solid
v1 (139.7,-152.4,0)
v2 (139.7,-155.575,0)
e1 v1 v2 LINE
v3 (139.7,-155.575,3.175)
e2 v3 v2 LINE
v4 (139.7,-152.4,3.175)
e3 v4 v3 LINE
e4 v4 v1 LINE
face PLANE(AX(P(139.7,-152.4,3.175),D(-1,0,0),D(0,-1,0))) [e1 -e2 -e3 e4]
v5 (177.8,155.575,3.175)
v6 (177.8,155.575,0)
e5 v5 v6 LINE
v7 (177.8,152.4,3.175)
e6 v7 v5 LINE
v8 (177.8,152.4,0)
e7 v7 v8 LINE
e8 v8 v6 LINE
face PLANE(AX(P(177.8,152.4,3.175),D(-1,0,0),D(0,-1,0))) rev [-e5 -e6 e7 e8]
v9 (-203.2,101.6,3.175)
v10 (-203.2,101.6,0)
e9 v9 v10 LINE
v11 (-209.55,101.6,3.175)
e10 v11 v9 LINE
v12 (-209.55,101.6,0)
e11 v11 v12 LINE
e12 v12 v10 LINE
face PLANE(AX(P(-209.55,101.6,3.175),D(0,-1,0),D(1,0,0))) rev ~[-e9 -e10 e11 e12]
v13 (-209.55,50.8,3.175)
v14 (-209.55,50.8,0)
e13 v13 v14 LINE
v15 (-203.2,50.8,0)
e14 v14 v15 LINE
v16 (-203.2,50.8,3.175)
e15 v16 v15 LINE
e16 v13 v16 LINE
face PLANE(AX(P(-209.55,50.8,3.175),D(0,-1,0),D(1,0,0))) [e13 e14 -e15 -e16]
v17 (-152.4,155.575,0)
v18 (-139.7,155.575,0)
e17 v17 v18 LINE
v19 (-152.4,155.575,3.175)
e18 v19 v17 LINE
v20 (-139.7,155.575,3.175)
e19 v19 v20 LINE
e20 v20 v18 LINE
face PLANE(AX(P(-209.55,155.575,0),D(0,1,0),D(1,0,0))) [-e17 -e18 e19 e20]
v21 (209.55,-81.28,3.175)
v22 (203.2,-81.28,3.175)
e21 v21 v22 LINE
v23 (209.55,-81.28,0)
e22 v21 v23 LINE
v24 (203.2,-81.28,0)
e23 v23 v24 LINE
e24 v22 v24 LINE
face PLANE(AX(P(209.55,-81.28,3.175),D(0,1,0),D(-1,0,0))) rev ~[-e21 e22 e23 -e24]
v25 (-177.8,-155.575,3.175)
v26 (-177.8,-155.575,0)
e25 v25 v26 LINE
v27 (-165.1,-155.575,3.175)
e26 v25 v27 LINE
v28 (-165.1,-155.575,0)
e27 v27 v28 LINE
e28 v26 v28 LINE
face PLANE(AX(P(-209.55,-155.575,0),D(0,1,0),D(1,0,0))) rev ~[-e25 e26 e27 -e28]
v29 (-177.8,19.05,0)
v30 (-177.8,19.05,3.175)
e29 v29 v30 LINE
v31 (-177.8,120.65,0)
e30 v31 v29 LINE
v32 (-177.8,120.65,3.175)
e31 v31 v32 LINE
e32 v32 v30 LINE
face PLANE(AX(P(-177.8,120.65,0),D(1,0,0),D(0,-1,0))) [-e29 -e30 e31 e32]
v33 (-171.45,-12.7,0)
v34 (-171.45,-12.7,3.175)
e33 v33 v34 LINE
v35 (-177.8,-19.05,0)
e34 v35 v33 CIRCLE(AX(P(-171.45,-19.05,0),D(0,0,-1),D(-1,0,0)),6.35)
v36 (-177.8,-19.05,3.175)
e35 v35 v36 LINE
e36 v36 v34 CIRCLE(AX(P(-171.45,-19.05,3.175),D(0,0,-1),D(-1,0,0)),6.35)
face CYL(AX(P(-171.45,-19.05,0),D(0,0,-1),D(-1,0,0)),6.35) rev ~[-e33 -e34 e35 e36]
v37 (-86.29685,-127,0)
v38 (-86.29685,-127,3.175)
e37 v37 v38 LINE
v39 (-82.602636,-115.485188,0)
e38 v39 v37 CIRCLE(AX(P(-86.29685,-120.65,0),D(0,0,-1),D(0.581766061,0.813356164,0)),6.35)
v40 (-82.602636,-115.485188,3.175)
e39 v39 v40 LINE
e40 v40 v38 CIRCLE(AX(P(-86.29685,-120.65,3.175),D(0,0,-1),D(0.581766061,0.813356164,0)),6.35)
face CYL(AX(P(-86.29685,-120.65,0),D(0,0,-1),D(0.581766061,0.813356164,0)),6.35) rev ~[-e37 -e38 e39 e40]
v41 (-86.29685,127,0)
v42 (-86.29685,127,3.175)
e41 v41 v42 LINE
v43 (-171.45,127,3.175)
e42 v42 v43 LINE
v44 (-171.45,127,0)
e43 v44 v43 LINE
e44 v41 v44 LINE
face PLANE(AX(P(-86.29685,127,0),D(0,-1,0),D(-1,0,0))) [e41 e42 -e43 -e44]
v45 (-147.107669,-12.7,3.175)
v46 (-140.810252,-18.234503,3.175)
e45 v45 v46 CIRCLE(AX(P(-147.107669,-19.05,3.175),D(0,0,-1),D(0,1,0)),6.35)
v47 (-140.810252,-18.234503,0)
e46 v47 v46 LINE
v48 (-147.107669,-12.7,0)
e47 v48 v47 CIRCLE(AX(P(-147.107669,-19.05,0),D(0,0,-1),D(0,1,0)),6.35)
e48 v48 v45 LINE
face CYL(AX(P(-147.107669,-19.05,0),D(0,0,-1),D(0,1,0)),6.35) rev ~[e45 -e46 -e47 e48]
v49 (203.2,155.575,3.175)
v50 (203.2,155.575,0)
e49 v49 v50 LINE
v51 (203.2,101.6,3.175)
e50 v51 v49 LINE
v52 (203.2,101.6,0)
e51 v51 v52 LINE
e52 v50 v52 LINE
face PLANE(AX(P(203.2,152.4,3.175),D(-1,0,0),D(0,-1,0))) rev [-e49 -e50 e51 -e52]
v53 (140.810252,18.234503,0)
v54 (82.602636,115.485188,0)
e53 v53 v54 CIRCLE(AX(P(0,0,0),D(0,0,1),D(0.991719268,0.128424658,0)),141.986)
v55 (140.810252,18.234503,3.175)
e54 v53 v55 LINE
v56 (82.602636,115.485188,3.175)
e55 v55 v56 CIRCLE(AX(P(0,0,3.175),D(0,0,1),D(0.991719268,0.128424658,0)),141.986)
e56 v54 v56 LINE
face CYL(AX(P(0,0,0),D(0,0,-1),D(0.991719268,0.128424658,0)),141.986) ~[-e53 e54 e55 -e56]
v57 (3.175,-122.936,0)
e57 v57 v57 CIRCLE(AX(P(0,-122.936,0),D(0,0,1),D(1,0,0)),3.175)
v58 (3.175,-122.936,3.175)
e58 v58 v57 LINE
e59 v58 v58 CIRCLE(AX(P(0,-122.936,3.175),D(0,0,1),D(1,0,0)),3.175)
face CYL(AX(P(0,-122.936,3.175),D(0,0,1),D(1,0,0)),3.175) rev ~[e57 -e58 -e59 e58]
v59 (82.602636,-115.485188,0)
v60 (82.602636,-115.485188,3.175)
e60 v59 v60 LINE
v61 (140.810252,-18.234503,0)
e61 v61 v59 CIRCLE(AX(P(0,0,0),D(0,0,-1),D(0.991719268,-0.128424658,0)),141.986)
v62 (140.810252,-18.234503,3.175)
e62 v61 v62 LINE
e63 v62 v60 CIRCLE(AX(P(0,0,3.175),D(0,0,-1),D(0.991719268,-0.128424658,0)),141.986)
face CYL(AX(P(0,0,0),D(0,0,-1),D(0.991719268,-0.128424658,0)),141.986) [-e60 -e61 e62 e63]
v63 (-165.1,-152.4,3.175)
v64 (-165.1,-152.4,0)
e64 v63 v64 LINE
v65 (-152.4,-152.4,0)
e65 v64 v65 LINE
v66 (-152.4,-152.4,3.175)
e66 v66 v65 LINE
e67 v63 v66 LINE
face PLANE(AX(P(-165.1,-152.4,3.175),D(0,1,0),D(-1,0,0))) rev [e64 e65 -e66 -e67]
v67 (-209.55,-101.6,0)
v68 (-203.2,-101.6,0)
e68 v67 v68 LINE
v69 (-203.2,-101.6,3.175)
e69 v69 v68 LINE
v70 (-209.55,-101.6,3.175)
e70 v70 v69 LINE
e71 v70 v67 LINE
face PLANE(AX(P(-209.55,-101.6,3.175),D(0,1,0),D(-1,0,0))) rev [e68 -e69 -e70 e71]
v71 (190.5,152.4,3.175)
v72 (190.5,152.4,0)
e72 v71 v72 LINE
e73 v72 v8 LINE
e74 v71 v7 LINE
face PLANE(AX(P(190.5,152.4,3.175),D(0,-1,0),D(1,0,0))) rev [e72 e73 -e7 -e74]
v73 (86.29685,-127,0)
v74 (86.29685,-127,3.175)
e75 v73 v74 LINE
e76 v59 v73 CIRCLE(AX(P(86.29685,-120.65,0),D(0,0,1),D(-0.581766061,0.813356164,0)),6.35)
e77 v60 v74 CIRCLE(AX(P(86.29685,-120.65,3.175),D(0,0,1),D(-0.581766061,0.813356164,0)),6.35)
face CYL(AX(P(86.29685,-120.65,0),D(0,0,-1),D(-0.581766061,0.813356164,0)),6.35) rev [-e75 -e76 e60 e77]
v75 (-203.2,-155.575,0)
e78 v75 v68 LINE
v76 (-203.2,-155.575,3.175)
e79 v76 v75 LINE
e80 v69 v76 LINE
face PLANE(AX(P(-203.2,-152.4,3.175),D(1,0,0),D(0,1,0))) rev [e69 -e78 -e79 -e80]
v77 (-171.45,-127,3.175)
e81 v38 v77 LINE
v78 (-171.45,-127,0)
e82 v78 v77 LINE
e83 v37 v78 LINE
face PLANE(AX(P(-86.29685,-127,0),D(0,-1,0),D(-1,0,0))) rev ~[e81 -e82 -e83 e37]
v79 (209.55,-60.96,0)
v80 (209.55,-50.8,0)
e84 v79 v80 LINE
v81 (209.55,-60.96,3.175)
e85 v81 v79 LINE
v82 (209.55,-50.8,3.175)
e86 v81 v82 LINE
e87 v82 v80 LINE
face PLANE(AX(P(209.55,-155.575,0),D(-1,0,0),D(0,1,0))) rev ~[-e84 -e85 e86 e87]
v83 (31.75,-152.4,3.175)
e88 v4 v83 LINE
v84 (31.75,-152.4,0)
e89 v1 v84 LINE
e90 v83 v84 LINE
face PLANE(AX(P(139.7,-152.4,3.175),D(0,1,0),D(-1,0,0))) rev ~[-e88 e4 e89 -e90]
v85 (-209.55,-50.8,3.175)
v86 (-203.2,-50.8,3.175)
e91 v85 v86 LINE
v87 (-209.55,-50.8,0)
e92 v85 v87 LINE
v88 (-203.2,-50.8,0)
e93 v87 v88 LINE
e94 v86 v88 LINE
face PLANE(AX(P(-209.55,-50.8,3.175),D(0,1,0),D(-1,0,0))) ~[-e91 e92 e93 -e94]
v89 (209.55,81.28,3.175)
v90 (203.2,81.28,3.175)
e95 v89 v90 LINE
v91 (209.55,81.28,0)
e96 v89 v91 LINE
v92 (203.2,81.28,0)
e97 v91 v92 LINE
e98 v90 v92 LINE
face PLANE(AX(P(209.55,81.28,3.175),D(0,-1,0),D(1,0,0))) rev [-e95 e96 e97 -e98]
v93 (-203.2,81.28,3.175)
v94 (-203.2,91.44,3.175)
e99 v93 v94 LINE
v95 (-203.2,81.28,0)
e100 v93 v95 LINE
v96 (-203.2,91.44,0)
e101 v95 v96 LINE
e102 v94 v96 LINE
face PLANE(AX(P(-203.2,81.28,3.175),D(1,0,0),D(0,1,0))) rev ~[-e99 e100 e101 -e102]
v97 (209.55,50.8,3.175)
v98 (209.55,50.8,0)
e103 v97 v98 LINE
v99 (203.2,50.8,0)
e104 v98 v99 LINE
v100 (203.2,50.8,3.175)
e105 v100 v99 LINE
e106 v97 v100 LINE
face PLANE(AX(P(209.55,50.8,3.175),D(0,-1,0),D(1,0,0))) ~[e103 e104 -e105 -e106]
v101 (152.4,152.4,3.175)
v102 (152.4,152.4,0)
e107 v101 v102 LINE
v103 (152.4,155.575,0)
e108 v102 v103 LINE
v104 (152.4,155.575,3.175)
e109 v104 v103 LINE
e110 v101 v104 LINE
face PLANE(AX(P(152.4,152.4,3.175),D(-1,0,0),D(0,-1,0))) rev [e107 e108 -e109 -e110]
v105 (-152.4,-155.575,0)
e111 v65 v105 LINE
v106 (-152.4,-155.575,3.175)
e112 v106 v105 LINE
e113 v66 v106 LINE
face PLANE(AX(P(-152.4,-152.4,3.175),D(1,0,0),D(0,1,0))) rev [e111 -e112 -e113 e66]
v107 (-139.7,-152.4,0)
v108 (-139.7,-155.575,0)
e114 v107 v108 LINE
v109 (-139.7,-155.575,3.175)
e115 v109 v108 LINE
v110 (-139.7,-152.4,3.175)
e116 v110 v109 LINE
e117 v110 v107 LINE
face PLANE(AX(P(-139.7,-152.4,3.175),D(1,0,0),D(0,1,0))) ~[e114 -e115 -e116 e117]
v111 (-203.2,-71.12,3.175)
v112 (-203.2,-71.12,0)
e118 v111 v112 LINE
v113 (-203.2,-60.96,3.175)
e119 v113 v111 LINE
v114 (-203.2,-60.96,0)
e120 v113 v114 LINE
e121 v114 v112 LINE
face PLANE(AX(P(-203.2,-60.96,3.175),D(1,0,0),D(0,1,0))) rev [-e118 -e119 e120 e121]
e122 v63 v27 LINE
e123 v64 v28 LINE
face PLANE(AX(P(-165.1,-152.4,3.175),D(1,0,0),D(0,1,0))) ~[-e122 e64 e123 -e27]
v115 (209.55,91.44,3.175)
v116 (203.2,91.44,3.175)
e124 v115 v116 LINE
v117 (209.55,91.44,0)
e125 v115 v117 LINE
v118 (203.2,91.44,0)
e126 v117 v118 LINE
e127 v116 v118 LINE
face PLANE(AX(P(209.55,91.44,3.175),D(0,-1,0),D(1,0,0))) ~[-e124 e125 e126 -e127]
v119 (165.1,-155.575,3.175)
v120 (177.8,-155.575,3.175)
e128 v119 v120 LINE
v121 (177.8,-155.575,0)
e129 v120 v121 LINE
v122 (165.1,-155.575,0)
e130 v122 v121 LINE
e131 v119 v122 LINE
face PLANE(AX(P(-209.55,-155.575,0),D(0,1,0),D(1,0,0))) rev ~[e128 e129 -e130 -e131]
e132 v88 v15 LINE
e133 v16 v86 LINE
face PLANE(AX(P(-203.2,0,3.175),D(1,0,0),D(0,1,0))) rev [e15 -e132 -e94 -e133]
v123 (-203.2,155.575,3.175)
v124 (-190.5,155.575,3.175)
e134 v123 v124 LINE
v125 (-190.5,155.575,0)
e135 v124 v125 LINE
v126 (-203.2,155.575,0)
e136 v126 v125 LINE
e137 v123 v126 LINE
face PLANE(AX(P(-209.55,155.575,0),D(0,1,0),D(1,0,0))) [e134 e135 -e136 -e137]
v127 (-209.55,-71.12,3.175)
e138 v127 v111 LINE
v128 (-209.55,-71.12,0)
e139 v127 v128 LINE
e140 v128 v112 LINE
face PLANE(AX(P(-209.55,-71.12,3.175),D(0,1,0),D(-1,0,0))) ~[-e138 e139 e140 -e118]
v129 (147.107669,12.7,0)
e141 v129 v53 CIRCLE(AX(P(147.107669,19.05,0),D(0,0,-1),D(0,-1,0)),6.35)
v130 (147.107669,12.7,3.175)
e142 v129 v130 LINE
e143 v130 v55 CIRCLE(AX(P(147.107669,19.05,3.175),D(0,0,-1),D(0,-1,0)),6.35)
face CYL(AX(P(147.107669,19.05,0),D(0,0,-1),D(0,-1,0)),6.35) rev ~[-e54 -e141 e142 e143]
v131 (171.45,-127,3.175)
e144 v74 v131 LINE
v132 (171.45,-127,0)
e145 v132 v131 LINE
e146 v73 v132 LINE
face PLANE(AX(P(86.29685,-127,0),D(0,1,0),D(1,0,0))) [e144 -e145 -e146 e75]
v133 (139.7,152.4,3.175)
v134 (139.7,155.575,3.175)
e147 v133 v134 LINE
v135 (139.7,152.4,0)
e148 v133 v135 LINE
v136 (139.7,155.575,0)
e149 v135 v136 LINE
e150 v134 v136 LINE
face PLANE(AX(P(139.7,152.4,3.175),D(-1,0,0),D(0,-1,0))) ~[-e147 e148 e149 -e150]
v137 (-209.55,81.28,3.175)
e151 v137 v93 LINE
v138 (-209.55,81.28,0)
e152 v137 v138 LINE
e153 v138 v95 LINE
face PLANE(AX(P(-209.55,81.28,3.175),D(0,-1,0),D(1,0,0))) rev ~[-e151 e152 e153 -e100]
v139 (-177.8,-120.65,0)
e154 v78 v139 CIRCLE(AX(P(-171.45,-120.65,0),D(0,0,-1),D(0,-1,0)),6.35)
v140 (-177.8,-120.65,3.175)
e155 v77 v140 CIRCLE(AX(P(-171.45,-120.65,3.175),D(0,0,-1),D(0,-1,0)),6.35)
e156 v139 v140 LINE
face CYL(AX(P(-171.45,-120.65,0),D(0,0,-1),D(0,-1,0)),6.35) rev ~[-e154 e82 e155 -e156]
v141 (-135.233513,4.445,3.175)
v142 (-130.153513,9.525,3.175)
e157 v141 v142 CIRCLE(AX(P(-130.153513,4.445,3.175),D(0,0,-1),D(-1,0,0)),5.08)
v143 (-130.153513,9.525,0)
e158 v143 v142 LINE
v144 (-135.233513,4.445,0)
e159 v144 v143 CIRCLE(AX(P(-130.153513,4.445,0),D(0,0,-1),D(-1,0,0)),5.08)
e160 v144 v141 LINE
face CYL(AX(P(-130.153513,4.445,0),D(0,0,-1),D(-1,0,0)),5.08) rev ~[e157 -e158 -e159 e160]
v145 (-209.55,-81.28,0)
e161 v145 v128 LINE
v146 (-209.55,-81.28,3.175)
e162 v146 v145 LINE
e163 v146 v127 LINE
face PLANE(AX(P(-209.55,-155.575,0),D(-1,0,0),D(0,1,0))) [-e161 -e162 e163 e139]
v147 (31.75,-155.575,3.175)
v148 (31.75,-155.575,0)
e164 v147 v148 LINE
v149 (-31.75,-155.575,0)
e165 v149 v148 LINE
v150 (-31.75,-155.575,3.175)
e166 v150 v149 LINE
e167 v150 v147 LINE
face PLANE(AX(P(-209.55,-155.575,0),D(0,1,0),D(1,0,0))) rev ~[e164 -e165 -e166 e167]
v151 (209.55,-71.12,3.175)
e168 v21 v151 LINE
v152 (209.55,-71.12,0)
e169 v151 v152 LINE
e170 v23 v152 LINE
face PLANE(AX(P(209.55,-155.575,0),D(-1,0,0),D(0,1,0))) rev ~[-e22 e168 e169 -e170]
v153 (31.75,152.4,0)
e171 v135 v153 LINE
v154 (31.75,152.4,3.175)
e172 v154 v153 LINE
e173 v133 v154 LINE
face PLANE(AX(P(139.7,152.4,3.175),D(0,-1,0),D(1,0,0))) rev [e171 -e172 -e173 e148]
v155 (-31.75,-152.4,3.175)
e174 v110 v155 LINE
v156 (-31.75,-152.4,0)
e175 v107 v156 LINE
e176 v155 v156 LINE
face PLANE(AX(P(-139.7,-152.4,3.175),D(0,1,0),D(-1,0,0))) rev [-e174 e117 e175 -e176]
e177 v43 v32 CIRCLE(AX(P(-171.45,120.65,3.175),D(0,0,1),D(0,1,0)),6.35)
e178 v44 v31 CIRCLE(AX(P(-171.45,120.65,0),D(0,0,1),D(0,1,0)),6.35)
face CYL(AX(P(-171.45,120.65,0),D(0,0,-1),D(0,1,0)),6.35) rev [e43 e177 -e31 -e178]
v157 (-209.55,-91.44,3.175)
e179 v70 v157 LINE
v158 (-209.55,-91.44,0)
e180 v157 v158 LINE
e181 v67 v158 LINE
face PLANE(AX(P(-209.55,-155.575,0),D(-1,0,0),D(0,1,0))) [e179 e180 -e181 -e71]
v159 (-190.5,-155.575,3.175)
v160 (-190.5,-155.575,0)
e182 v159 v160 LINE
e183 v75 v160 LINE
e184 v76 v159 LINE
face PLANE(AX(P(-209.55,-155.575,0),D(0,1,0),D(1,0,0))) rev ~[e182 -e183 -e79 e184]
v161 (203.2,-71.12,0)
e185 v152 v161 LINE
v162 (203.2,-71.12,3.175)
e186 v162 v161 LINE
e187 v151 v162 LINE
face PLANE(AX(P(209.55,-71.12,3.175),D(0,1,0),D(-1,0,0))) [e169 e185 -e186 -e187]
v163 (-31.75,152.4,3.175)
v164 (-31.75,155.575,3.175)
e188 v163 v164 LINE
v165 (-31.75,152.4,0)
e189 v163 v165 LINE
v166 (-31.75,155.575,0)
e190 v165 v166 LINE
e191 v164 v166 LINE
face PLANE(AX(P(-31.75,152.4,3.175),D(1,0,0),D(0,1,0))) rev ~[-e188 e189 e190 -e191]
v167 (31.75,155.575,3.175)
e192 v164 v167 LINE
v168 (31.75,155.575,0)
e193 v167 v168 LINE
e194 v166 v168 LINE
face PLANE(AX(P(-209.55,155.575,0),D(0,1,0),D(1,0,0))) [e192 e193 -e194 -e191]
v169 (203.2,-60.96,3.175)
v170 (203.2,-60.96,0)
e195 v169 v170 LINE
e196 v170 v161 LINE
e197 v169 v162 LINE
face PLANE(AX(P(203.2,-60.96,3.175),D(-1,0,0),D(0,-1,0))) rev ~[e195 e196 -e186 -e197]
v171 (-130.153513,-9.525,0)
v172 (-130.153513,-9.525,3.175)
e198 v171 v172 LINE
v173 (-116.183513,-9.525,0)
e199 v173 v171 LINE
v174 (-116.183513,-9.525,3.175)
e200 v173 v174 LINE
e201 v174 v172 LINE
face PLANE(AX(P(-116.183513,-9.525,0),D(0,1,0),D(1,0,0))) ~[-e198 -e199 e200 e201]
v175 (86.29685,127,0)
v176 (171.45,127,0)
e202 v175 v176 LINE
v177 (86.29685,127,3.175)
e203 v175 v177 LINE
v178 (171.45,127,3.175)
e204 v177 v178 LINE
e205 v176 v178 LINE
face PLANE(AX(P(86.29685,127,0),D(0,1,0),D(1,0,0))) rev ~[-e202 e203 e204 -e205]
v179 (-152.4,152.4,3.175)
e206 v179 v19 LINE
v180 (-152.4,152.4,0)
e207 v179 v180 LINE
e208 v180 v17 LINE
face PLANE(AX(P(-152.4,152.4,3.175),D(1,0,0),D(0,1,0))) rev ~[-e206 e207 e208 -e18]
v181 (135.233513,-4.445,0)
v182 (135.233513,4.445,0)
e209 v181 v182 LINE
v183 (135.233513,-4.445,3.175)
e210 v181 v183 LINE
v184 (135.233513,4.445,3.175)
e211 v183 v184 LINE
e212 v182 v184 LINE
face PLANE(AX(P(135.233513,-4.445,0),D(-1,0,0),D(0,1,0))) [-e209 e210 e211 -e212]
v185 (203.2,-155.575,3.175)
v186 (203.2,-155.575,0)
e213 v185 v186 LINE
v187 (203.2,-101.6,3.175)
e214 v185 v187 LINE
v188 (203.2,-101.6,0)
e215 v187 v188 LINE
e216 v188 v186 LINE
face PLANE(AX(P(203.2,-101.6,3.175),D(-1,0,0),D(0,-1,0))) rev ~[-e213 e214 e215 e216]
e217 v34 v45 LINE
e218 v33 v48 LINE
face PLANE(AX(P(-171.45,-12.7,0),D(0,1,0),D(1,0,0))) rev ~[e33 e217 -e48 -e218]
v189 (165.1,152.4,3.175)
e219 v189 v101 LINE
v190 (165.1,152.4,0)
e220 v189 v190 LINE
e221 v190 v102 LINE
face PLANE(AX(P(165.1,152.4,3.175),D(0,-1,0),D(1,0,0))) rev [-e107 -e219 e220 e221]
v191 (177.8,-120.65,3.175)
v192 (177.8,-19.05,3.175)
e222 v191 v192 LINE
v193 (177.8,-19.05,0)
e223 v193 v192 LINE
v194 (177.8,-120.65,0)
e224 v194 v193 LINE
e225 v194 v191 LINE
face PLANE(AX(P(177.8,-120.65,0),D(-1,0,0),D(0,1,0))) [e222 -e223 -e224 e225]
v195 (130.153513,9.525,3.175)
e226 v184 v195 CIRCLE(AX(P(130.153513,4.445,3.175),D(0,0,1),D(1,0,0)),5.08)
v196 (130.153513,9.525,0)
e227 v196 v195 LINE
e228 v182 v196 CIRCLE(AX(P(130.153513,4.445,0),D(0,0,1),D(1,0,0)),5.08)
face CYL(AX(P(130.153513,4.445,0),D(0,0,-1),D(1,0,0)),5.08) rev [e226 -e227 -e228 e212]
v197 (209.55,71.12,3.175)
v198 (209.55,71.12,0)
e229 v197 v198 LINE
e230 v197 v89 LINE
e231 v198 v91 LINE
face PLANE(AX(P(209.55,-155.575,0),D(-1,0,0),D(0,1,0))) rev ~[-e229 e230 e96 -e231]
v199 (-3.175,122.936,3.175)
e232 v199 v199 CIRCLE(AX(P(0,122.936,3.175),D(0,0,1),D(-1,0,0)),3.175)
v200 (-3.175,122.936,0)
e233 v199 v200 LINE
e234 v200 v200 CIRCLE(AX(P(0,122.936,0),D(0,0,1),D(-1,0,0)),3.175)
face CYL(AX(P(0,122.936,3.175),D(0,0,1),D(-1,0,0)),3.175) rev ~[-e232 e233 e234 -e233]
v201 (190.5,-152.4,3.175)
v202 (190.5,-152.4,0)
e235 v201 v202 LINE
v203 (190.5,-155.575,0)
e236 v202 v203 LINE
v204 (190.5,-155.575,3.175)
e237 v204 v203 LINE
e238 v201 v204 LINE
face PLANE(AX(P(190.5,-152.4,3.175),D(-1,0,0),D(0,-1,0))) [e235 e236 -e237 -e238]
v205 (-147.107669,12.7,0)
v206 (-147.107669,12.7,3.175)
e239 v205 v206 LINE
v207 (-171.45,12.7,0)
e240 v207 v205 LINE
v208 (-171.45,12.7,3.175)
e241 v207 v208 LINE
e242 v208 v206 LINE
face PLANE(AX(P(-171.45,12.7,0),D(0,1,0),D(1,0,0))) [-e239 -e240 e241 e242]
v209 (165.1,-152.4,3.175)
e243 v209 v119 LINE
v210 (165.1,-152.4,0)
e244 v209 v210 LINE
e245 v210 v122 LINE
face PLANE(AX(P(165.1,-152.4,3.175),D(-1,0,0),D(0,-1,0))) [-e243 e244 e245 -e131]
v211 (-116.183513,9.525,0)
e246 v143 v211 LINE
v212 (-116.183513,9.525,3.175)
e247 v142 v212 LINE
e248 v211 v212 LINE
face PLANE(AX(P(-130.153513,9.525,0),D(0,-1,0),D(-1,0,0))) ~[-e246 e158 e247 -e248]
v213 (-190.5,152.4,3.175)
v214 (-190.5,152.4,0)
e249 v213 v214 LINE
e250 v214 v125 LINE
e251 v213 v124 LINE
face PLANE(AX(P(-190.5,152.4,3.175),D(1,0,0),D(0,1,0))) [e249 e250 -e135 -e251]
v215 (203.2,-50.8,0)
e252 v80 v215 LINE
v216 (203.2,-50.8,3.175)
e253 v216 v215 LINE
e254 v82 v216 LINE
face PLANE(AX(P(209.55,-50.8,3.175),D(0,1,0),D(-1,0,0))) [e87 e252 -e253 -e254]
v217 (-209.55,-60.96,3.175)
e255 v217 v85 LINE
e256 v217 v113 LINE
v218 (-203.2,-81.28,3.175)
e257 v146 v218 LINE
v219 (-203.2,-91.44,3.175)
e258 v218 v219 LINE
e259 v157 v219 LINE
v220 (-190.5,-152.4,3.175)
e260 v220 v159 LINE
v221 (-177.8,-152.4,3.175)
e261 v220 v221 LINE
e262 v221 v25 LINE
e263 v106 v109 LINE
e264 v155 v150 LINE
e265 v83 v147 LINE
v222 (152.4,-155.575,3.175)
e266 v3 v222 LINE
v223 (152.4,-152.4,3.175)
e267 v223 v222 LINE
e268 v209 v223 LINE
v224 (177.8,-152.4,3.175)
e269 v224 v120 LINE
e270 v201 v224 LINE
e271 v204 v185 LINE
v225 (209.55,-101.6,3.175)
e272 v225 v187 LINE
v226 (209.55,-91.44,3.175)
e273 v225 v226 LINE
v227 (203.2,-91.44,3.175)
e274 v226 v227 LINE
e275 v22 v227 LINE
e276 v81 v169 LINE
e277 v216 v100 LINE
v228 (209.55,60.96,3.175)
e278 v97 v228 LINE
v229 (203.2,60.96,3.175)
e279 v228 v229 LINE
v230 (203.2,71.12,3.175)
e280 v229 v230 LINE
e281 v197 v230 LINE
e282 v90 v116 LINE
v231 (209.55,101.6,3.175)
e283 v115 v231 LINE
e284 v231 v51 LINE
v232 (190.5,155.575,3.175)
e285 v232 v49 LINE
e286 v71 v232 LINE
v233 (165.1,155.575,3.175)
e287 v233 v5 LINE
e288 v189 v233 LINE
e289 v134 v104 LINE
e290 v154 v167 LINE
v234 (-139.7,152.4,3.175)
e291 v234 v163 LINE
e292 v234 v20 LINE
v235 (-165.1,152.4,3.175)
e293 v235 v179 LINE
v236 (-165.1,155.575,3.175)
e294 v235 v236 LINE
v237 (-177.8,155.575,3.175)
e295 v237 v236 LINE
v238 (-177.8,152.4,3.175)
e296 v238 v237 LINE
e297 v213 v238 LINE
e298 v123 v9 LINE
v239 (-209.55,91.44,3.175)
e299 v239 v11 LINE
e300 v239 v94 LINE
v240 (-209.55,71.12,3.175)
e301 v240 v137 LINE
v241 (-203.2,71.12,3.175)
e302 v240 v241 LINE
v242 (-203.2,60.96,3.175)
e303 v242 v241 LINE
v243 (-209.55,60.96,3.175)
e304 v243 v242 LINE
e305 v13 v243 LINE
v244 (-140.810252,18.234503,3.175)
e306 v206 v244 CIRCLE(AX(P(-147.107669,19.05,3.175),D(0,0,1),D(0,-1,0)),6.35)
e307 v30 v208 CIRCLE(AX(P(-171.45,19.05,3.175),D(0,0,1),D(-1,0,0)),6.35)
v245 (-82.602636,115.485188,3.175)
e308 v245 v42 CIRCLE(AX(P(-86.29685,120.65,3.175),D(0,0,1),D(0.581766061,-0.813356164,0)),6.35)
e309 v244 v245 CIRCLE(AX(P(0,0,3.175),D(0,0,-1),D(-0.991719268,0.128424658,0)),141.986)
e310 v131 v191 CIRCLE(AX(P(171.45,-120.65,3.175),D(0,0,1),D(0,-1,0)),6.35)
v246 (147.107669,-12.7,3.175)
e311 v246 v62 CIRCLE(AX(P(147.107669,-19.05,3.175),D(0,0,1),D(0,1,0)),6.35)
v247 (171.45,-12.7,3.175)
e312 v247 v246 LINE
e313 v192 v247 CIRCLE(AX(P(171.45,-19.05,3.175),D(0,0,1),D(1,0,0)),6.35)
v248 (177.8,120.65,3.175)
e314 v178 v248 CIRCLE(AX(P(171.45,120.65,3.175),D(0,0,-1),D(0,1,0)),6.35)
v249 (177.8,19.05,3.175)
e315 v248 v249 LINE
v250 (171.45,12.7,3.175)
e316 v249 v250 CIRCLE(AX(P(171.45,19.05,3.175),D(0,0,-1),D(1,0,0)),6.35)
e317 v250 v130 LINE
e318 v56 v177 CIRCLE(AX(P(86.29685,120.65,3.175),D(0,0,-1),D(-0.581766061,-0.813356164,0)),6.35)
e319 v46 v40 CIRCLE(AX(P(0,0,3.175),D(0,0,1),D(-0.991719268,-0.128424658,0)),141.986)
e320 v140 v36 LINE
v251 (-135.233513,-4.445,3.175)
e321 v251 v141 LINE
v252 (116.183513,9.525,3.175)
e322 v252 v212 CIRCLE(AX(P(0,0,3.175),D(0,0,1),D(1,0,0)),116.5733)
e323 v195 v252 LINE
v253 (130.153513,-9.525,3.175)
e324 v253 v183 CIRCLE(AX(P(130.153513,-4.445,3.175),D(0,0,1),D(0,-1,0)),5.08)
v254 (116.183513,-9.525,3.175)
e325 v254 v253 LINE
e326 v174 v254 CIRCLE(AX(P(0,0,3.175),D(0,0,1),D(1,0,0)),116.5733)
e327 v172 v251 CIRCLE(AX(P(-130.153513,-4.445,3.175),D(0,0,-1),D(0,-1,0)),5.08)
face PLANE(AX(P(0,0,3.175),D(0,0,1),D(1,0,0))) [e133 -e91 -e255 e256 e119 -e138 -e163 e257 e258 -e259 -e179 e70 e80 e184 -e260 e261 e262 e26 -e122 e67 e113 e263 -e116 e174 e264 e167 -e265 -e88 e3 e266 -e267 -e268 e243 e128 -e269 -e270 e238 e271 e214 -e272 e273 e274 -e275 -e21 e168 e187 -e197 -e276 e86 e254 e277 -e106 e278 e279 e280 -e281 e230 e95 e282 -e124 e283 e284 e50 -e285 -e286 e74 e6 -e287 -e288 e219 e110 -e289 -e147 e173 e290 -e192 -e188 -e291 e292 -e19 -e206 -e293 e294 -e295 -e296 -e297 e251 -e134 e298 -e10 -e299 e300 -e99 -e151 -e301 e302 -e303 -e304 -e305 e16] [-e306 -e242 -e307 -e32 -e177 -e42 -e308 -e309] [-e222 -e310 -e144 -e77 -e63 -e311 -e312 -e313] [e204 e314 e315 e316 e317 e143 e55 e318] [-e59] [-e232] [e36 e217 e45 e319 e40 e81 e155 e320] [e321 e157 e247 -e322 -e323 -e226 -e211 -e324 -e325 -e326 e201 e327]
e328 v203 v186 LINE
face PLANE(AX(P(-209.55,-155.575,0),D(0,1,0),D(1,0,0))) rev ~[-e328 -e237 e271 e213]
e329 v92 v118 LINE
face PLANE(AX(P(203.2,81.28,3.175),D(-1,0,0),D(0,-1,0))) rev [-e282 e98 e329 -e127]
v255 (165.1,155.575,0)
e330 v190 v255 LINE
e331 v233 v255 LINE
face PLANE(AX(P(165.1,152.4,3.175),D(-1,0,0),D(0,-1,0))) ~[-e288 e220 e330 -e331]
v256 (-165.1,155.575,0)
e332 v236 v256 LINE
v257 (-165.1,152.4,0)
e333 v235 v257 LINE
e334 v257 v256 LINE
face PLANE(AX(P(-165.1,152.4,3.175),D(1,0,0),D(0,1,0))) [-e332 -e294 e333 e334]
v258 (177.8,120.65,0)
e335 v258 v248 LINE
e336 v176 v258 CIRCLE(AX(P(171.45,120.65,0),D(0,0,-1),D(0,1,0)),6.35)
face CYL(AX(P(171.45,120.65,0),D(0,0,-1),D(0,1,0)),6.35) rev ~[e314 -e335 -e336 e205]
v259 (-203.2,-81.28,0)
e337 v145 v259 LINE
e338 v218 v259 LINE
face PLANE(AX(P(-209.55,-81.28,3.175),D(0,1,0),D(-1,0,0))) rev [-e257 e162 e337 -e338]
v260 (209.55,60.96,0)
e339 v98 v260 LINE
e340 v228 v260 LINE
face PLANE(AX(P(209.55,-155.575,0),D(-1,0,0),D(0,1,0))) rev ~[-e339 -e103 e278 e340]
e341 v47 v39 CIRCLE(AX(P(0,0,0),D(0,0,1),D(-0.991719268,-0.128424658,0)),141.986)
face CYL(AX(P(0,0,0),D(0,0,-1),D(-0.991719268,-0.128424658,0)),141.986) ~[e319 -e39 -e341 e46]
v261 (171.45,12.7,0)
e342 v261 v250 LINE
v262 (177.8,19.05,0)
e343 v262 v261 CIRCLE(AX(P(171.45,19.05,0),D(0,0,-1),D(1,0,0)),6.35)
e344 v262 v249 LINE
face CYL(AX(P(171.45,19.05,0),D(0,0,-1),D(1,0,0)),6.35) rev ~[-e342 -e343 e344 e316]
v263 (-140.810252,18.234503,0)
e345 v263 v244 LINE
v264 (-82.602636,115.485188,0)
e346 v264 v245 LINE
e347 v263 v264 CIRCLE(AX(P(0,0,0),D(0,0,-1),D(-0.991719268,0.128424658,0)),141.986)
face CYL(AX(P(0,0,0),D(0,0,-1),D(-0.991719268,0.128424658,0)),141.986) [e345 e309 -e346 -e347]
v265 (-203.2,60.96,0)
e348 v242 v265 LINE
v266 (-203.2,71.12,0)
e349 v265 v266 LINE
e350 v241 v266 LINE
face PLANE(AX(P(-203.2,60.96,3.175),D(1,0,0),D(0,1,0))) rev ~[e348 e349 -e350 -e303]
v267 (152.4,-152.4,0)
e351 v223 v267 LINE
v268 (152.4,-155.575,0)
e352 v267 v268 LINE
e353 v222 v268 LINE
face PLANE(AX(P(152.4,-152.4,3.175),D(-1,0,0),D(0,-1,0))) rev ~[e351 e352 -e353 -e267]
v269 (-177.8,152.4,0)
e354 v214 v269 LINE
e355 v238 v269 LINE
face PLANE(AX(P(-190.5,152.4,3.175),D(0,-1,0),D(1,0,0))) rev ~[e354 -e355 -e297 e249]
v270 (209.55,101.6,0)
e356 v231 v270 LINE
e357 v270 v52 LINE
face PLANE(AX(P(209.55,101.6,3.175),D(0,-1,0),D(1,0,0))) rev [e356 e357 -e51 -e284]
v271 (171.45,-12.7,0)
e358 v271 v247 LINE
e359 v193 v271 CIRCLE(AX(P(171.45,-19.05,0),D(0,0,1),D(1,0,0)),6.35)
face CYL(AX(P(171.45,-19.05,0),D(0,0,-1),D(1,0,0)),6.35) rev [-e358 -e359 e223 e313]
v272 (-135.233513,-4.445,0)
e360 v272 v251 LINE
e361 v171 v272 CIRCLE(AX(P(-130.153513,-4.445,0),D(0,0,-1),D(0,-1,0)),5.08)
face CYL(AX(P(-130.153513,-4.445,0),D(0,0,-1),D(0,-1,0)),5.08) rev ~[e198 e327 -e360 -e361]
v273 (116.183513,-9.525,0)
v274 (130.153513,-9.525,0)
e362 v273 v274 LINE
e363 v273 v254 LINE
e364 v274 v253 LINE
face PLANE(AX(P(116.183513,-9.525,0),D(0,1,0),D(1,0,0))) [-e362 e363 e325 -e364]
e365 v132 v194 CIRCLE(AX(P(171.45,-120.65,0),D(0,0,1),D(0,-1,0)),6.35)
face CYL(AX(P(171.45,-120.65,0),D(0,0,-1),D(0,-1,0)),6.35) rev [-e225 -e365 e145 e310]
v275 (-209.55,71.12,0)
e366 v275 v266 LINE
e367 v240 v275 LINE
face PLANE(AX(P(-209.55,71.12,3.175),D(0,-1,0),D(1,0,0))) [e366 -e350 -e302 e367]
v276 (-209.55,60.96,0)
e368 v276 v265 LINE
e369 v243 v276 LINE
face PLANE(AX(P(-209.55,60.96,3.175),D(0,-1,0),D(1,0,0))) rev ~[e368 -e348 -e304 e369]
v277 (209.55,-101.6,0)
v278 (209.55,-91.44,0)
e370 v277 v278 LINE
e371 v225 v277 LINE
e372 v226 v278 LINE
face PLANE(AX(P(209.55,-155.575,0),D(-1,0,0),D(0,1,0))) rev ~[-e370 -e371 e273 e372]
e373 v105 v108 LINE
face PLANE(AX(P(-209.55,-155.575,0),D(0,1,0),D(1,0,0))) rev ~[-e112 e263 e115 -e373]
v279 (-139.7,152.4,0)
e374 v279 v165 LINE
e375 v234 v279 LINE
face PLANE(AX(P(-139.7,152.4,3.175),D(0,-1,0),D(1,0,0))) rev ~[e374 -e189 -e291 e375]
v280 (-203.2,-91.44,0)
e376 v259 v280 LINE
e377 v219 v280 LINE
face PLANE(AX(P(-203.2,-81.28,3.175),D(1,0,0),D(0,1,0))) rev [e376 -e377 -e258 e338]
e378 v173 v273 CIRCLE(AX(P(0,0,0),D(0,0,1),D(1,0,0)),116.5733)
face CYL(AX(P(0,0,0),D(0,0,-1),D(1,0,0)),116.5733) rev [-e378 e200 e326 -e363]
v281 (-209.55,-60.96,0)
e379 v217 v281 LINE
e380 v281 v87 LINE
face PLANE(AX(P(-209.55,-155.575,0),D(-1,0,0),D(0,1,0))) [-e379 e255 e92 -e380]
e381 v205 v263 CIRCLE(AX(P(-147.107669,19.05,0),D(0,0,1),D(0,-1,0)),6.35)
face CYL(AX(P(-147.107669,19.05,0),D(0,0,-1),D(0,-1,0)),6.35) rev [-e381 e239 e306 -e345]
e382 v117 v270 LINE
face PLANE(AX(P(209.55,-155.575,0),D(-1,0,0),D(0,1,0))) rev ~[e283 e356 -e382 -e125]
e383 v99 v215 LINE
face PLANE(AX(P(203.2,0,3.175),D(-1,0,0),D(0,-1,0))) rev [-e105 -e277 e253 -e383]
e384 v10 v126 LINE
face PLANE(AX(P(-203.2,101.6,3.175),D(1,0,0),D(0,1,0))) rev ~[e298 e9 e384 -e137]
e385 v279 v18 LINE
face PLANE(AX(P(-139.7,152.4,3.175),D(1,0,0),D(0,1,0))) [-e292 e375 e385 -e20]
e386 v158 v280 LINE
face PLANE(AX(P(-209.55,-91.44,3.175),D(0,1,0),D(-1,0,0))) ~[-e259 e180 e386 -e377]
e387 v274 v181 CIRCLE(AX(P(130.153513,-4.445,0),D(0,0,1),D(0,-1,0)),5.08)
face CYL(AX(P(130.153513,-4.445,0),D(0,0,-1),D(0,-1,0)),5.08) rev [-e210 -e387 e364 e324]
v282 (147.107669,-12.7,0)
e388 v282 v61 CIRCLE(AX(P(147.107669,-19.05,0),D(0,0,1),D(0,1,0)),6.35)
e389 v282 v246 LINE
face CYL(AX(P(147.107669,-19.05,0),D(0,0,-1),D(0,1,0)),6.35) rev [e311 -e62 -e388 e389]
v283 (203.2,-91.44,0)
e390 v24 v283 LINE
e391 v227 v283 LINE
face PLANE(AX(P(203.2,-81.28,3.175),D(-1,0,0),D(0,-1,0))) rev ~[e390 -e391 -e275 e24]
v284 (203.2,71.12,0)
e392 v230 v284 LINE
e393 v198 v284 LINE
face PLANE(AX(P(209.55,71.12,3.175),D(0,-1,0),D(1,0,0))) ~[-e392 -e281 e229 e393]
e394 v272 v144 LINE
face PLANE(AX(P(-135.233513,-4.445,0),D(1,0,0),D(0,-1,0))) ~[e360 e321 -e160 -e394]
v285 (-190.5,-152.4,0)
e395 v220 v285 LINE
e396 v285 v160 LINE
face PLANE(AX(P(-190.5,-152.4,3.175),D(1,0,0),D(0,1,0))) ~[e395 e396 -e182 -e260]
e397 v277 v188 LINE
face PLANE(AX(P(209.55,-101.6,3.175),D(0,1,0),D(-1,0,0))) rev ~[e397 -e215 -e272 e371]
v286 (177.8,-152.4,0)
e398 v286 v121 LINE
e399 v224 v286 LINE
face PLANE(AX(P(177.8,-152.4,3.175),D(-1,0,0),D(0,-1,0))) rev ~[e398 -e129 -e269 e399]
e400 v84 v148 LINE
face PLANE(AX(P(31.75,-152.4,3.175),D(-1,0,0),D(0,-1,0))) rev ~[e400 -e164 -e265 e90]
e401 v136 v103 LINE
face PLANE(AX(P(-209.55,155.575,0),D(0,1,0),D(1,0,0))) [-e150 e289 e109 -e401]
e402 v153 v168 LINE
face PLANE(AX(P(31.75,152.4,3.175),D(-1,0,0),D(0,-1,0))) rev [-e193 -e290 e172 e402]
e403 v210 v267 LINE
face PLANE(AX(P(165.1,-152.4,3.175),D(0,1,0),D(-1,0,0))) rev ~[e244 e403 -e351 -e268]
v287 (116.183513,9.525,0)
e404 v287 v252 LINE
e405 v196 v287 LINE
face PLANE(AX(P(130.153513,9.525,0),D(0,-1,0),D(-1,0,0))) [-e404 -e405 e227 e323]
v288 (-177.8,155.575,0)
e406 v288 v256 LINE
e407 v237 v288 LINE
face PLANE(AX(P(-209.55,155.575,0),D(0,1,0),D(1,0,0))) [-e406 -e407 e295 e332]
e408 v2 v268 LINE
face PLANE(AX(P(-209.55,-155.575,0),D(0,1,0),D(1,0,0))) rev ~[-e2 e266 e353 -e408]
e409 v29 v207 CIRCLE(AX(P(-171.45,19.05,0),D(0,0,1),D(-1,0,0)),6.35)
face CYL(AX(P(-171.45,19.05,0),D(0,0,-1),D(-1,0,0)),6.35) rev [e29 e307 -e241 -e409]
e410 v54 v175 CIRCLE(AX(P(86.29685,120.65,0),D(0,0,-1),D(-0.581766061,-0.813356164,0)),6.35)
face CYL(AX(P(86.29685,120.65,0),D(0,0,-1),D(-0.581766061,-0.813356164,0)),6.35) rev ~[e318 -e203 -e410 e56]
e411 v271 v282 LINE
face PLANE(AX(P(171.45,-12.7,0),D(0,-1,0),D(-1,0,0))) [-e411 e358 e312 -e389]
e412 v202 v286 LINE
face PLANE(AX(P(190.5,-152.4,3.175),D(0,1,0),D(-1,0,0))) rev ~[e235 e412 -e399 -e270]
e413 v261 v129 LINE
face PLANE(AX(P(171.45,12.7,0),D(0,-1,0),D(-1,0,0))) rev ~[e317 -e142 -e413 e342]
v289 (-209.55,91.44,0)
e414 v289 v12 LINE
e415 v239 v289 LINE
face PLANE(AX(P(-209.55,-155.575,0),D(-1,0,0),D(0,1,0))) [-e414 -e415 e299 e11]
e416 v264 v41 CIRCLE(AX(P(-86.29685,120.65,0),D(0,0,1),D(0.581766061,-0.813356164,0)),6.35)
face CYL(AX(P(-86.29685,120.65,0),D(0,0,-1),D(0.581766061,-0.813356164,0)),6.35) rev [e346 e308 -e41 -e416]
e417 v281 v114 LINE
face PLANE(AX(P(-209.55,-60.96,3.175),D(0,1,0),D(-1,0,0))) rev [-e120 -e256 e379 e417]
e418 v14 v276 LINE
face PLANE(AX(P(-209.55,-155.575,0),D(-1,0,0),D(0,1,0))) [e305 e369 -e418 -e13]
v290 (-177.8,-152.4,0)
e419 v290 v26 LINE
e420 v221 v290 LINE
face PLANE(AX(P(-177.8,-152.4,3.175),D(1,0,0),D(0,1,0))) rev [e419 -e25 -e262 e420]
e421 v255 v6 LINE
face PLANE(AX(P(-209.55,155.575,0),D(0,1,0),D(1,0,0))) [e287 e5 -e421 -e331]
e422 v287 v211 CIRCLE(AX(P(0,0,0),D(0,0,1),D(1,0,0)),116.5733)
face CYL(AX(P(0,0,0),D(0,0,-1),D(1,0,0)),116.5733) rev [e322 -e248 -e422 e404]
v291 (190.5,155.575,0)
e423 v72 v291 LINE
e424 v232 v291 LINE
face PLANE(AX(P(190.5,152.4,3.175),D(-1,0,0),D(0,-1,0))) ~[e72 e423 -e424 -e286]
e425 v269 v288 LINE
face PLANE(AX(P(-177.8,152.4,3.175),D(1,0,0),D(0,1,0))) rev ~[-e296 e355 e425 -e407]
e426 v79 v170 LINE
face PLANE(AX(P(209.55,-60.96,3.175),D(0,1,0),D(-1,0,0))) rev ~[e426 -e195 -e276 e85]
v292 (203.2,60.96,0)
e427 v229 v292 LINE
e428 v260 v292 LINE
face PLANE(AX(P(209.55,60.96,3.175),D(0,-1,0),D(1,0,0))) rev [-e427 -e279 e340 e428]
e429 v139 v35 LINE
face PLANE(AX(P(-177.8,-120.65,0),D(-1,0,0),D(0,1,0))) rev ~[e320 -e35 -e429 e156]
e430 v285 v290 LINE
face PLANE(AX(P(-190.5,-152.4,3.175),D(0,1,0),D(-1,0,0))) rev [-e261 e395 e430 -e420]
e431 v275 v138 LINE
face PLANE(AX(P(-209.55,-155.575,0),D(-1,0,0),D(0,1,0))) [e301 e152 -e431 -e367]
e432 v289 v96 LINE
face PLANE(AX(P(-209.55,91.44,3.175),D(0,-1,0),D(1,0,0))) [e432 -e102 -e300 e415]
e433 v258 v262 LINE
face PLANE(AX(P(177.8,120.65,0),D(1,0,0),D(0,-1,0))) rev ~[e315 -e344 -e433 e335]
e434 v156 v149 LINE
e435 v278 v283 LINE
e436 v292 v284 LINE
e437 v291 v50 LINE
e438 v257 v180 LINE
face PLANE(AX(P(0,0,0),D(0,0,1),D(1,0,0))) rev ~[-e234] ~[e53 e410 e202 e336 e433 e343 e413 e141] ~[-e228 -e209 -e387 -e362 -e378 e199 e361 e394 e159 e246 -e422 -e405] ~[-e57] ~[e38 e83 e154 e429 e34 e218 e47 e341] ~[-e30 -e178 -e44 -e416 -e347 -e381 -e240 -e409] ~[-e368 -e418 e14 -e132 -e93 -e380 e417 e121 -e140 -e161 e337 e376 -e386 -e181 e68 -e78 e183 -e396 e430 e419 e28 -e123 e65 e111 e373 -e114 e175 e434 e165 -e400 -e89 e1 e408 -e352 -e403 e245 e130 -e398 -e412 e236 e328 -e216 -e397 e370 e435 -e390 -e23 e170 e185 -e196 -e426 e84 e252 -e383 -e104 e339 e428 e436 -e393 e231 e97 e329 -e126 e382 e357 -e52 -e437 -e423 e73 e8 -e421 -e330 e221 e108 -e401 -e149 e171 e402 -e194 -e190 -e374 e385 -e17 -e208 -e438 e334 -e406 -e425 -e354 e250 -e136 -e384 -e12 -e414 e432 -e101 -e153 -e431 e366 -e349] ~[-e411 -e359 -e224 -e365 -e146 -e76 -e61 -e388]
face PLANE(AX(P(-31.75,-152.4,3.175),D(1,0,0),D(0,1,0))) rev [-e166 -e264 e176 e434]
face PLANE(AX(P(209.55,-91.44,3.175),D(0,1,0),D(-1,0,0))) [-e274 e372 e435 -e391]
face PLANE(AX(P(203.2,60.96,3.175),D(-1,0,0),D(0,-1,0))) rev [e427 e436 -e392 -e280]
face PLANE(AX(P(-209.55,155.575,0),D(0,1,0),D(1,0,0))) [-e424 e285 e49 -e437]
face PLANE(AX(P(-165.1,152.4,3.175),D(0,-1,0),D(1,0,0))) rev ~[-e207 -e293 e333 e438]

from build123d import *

# Parameters (mm, degrees)
SKETCH1_W                 = 419.1
SKETCH1_H                 = 311.15
SKETCH1_R                 = 116.5733
BOSS_EXTRUDE1_DEPTH       = 3.175
SKETCH2_R                 = 3.175
CUT_EXTRUDE1_DEPTH        = 3.175
CUT_EXTRUDE2_START        = -3.175
CUT_EXTRUDE2_DEPTH        = 3.175
SKETCH4_W                 = 107.95
SKETCH4_H                 = 3.175
SKETCH4_W_2               = 12.7
CUT_EXTRUDE3_DEPTH        = 3.175
MIRROR3_COPY_1_SKETCH_W   = 107.95
MIRROR3_COPY_1_SKETCH_H   = 3.175
MIRROR3_COPY_1_SKETCH_W_2 = 12.7
MIRROR3_COPY_1_DEPTH      = 3.175
SKETCH6_W                 = 6.35
SKETCH6_H                 = 50.8
SKETCH6_H_2               = 10.16
CUT_EXTRUDE4_DEPTH        = 3.175
MIRROR5_COPY_1_SKETCH_W   = 6.35
MIRROR5_COPY_1_SKETCH_H   = 50.8
MIRROR5_COPY_1_SKETCH_H_2 = 10.16
MIRROR5_COPY_1_DEPTH      = 3.175


with BuildPart() as part:
    # Sketch1 → Boss-Extrude1 (new body)
    with BuildSketch(Plane.XY):
        Rectangle(SKETCH1_W, SKETCH1_H)
        Circle(SKETCH1_R, mode=Mode.SUBTRACT)
        with BuildLine():
            Line((-86.296850441, 127), (-171.45, 127))
            ThreePointArc((-171.45, 127), (-175.940128061, 125.140128061), (-177.8, 120.65))
            Line((-177.8, 120.65), (-177.8, 19.05))
            ThreePointArc((-177.8, 19.05), (-175.940128061, 14.559871939), (-171.45, 12.7))
            Line((-171.45, 12.7), (-147.107669399, 12.7))
            ThreePointArc((-147.107669399, 12.7), (-142.915766684, 14.28025665), (-140.810252045, 18.234503425))
            ThreePointArc((-140.810252045, 18.234503425), (-121.830839941, 72.91961763), (-82.602635953, 115.485188356))
            ThreePointArc((-82.602635953, 115.485188356), (-80.250402974, 122.589838403), (-86.296850441, 127))
        make_face(mode=Mode.SUBTRACT)
        with BuildLine():
            Line((-177.8, -120.65), (-177.8, -19.05))
            ThreePointArc((-177.8, -19.05), (-175.940128061, -14.559871939), (-171.45, -12.7))
            Line((-171.45, -12.7), (-147.107669399, -12.7))
            ThreePointArc((-147.107669399, -12.7), (-142.915766684, -14.28025665), (-140.810252045, -18.234503425))
            ThreePointArc((-140.810252045, -18.234503425), (-121.830839941, -72.91961763), (-82.602635953, -115.485188356))
            ThreePointArc((-82.602635953, -115.485188356), (-80.250402974, -122.589838403), (-86.296850441, -127))
            Line((-86.296850441, -127), (-171.45, -127))
            ThreePointArc((-171.45, -127), (-175.940128061, -125.140128061), (-177.8, -120.65))
        make_face(mode=Mode.SUBTRACT)
        with BuildLine():
            Line((86.296850441, -127), (171.45, -127))
            ThreePointArc((171.45, -127), (175.940128061, -125.140128061), (177.8, -120.65))
            Line((177.8, -120.65), (177.8, -19.05))
            ThreePointArc((177.8, -19.05), (175.940128061, -14.559871939), (171.45, -12.7))
            Line((171.45, -12.7), (147.107669399, -12.7))
            ThreePointArc((147.107669399, -12.7), (142.915766684, -14.28025665), (140.810252045, -18.234503425))
            ThreePointArc((140.810252045, -18.234503425), (121.830839941, -72.91961763), (82.602635953, -115.485188356))
            ThreePointArc((82.602635953, -115.485188356), (80.250402974, -122.589838403), (86.296850441, -127))
        make_face(mode=Mode.SUBTRACT)
        with BuildLine():
            Line((177.8, 120.65), (177.8, 19.05))
            ThreePointArc((177.8, 19.05), (175.940128061, 14.559871939), (171.45, 12.7))
            Line((171.45, 12.7), (147.107669399, 12.7))
            ThreePointArc((147.107669399, 12.7), (142.915766684, 14.28025665), (140.810252045, 18.234503425))
            ThreePointArc((140.810252045, 18.234503425), (121.830839941, 72.91961763), (82.602635953, 115.485188356))
            ThreePointArc((82.602635953, 115.485188356), (80.250402974, 122.589838403), (86.296850441, 127))
            Line((86.296850441, 127), (171.45, 127))
            ThreePointArc((171.45, 127), (175.940128061, 125.140128061), (177.8, 120.65))
        make_face(mode=Mode.SUBTRACT)
    extrude(amount=BOSS_EXTRUDE1_DEPTH)

    # Sketch2 → Cut-Extrude1 (cut)
    with BuildSketch(Plane.XY.offset(3.175)):
        with Locations(Location((0, 122.936, 0), (0, 0, 180))):
            Circle(SKETCH2_R)
        with Locations((0, -122.936)):
            Circle(SKETCH2_R)
    extrude(amount=-CUT_EXTRUDE1_DEPTH, mode=Mode.SUBTRACT)

    # Sketch3 → Cut-Extrude2 (cut)
    with BuildSketch(Plane.XY.offset(3.175).offset(CUT_EXTRUDE2_START)):
        with BuildLine():
            Line((116.183512806, -9.525), (130.153512806, -9.525))
            ThreePointArc((130.153512806, -9.525), (133.745615254, -8.037102448), (135.233512806, -4.445))
            Line((135.233512806, -4.445), (135.233512806, 4.445))
            ThreePointArc((135.233512806, 4.445), (133.745615254, 8.037102448), (130.153512806, 9.525))
            Line((130.153512806, 9.525), (116.183512806, 9.525))
            ThreePointArc((116.183512806, 9.525), (116.5733, 0), (116.183512806, -9.525))
        make_face()
    cut_extrude2 = extrude(amount=CUT_EXTRUDE2_DEPTH, mode=Mode.SUBTRACT)

    # Mirror6: Cut-Extrude2 across plane
    add(cut_extrude2.mirror(Plane(origin=(0, 0, 0), x_dir=(0, 0, 1), z_dir=(1, 0, 0))), mode=Mode.SUBTRACT)

    # Sketch4 → Cut-Extrude3 (cut)
    with BuildSketch(Plane.XY.offset(3.175)):
        with Locations((-85.725, 153.9875)):
            Rectangle(SKETCH4_W, SKETCH4_H)
        with Locations((-184.15, 153.9875)):
            Rectangle(SKETCH4_W_2, SKETCH4_H)
        with Locations((-209.55, 153.9875)):
            Rectangle(SKETCH4_W_2, SKETCH4_H)
        with Locations((-158.75, 153.9875)):
            Rectangle(SKETCH4_W_2, SKETCH4_H)
    cut_extrude3 = extrude(amount=-CUT_EXTRUDE3_DEPTH, mode=Mode.SUBTRACT)

    # Mirror2: Cut-Extrude3 across plane
    add(cut_extrude3.mirror(Plane(origin=(0, 0, 0), x_dir=(0, 0, 1), z_dir=(1, 0, 0))), mode=Mode.SUBTRACT)

    # Mirror3: Cut-Extrude3 across plane
    add(cut_extrude3.mirror(Plane.ZX), mode=Mode.SUBTRACT)

    # Mirror3 copy 1 sketch → Mirror3 copy 1 (cut)
    with BuildSketch(Plane(origin=(0, 0, 3.175), x_dir=(-1, 0, 0), z_dir=(0, 0, 1))):
        with Locations((-85.725, 153.9875)):
            Rectangle(MIRROR3_COPY_1_SKETCH_W, MIRROR3_COPY_1_SKETCH_H)
        with Locations((-184.15, 153.9875)):
            Rectangle(MIRROR3_COPY_1_SKETCH_W_2, MIRROR3_COPY_1_SKETCH_H)
        with Locations((-209.55, 153.9875)):
            Rectangle(MIRROR3_COPY_1_SKETCH_W_2, MIRROR3_COPY_1_SKETCH_H)
        with Locations((-158.75, 153.9875)):
            Rectangle(MIRROR3_COPY_1_SKETCH_W_2, MIRROR3_COPY_1_SKETCH_H)
    extrude(amount=-MIRROR3_COPY_1_DEPTH, mode=Mode.SUBTRACT)

    # Sketch6 → Cut-Extrude4 (cut)
    with BuildSketch(Plane.XY.offset(3.175)):
        with Locations((-206.375, 127)):
            Rectangle(SKETCH6_W, SKETCH6_H)
        with Locations((-206.375, 25.4)):
            Rectangle(SKETCH6_W, SKETCH6_H)
        with Locations((-206.375, 86.36)):
            Rectangle(SKETCH6_W, SKETCH6_H_2)
        with Locations((-206.375, 66.04)):
            Rectangle(SKETCH6_W, SKETCH6_H_2)
    cut_extrude4 = extrude(amount=-CUT_EXTRUDE4_DEPTH, mode=Mode.SUBTRACT)

    # Mirror4: Cut-Extrude4 across plane
    add(cut_extrude4.mirror(Plane(origin=(0, 0, 0), x_dir=(0, 0, 1), z_dir=(1, 0, 0))), mode=Mode.SUBTRACT)

    # Mirror5: Cut-Extrude4 across plane
    add(cut_extrude4.mirror(Plane.ZX), mode=Mode.SUBTRACT)

    # Mirror5 copy 1 sketch → Mirror5 copy 1 (cut)
    with BuildSketch(Plane(origin=(0, 0, 3.175), x_dir=(-1, 0, 0), z_dir=(0, 0, 1))):
        with Locations((-206.375, 127)):
            Rectangle(MIRROR5_COPY_1_SKETCH_W, MIRROR5_COPY_1_SKETCH_H)
        with Locations((-206.375, 25.4)):
            Rectangle(MIRROR5_COPY_1_SKETCH_W, MIRROR5_COPY_1_SKETCH_H)
        with Locations((-206.375, 86.36)):
            Rectangle(MIRROR5_COPY_1_SKETCH_W, MIRROR5_COPY_1_SKETCH_H_2)
        with Locations((-206.375, 66.04)):
            Rectangle(MIRROR5_COPY_1_SKETCH_W, MIRROR5_COPY_1_SKETCH_H_2)
    extrude(amount=-MIRROR5_COPY_1_DEPTH, mode=Mode.SUBTRACT)


solid = part.part
